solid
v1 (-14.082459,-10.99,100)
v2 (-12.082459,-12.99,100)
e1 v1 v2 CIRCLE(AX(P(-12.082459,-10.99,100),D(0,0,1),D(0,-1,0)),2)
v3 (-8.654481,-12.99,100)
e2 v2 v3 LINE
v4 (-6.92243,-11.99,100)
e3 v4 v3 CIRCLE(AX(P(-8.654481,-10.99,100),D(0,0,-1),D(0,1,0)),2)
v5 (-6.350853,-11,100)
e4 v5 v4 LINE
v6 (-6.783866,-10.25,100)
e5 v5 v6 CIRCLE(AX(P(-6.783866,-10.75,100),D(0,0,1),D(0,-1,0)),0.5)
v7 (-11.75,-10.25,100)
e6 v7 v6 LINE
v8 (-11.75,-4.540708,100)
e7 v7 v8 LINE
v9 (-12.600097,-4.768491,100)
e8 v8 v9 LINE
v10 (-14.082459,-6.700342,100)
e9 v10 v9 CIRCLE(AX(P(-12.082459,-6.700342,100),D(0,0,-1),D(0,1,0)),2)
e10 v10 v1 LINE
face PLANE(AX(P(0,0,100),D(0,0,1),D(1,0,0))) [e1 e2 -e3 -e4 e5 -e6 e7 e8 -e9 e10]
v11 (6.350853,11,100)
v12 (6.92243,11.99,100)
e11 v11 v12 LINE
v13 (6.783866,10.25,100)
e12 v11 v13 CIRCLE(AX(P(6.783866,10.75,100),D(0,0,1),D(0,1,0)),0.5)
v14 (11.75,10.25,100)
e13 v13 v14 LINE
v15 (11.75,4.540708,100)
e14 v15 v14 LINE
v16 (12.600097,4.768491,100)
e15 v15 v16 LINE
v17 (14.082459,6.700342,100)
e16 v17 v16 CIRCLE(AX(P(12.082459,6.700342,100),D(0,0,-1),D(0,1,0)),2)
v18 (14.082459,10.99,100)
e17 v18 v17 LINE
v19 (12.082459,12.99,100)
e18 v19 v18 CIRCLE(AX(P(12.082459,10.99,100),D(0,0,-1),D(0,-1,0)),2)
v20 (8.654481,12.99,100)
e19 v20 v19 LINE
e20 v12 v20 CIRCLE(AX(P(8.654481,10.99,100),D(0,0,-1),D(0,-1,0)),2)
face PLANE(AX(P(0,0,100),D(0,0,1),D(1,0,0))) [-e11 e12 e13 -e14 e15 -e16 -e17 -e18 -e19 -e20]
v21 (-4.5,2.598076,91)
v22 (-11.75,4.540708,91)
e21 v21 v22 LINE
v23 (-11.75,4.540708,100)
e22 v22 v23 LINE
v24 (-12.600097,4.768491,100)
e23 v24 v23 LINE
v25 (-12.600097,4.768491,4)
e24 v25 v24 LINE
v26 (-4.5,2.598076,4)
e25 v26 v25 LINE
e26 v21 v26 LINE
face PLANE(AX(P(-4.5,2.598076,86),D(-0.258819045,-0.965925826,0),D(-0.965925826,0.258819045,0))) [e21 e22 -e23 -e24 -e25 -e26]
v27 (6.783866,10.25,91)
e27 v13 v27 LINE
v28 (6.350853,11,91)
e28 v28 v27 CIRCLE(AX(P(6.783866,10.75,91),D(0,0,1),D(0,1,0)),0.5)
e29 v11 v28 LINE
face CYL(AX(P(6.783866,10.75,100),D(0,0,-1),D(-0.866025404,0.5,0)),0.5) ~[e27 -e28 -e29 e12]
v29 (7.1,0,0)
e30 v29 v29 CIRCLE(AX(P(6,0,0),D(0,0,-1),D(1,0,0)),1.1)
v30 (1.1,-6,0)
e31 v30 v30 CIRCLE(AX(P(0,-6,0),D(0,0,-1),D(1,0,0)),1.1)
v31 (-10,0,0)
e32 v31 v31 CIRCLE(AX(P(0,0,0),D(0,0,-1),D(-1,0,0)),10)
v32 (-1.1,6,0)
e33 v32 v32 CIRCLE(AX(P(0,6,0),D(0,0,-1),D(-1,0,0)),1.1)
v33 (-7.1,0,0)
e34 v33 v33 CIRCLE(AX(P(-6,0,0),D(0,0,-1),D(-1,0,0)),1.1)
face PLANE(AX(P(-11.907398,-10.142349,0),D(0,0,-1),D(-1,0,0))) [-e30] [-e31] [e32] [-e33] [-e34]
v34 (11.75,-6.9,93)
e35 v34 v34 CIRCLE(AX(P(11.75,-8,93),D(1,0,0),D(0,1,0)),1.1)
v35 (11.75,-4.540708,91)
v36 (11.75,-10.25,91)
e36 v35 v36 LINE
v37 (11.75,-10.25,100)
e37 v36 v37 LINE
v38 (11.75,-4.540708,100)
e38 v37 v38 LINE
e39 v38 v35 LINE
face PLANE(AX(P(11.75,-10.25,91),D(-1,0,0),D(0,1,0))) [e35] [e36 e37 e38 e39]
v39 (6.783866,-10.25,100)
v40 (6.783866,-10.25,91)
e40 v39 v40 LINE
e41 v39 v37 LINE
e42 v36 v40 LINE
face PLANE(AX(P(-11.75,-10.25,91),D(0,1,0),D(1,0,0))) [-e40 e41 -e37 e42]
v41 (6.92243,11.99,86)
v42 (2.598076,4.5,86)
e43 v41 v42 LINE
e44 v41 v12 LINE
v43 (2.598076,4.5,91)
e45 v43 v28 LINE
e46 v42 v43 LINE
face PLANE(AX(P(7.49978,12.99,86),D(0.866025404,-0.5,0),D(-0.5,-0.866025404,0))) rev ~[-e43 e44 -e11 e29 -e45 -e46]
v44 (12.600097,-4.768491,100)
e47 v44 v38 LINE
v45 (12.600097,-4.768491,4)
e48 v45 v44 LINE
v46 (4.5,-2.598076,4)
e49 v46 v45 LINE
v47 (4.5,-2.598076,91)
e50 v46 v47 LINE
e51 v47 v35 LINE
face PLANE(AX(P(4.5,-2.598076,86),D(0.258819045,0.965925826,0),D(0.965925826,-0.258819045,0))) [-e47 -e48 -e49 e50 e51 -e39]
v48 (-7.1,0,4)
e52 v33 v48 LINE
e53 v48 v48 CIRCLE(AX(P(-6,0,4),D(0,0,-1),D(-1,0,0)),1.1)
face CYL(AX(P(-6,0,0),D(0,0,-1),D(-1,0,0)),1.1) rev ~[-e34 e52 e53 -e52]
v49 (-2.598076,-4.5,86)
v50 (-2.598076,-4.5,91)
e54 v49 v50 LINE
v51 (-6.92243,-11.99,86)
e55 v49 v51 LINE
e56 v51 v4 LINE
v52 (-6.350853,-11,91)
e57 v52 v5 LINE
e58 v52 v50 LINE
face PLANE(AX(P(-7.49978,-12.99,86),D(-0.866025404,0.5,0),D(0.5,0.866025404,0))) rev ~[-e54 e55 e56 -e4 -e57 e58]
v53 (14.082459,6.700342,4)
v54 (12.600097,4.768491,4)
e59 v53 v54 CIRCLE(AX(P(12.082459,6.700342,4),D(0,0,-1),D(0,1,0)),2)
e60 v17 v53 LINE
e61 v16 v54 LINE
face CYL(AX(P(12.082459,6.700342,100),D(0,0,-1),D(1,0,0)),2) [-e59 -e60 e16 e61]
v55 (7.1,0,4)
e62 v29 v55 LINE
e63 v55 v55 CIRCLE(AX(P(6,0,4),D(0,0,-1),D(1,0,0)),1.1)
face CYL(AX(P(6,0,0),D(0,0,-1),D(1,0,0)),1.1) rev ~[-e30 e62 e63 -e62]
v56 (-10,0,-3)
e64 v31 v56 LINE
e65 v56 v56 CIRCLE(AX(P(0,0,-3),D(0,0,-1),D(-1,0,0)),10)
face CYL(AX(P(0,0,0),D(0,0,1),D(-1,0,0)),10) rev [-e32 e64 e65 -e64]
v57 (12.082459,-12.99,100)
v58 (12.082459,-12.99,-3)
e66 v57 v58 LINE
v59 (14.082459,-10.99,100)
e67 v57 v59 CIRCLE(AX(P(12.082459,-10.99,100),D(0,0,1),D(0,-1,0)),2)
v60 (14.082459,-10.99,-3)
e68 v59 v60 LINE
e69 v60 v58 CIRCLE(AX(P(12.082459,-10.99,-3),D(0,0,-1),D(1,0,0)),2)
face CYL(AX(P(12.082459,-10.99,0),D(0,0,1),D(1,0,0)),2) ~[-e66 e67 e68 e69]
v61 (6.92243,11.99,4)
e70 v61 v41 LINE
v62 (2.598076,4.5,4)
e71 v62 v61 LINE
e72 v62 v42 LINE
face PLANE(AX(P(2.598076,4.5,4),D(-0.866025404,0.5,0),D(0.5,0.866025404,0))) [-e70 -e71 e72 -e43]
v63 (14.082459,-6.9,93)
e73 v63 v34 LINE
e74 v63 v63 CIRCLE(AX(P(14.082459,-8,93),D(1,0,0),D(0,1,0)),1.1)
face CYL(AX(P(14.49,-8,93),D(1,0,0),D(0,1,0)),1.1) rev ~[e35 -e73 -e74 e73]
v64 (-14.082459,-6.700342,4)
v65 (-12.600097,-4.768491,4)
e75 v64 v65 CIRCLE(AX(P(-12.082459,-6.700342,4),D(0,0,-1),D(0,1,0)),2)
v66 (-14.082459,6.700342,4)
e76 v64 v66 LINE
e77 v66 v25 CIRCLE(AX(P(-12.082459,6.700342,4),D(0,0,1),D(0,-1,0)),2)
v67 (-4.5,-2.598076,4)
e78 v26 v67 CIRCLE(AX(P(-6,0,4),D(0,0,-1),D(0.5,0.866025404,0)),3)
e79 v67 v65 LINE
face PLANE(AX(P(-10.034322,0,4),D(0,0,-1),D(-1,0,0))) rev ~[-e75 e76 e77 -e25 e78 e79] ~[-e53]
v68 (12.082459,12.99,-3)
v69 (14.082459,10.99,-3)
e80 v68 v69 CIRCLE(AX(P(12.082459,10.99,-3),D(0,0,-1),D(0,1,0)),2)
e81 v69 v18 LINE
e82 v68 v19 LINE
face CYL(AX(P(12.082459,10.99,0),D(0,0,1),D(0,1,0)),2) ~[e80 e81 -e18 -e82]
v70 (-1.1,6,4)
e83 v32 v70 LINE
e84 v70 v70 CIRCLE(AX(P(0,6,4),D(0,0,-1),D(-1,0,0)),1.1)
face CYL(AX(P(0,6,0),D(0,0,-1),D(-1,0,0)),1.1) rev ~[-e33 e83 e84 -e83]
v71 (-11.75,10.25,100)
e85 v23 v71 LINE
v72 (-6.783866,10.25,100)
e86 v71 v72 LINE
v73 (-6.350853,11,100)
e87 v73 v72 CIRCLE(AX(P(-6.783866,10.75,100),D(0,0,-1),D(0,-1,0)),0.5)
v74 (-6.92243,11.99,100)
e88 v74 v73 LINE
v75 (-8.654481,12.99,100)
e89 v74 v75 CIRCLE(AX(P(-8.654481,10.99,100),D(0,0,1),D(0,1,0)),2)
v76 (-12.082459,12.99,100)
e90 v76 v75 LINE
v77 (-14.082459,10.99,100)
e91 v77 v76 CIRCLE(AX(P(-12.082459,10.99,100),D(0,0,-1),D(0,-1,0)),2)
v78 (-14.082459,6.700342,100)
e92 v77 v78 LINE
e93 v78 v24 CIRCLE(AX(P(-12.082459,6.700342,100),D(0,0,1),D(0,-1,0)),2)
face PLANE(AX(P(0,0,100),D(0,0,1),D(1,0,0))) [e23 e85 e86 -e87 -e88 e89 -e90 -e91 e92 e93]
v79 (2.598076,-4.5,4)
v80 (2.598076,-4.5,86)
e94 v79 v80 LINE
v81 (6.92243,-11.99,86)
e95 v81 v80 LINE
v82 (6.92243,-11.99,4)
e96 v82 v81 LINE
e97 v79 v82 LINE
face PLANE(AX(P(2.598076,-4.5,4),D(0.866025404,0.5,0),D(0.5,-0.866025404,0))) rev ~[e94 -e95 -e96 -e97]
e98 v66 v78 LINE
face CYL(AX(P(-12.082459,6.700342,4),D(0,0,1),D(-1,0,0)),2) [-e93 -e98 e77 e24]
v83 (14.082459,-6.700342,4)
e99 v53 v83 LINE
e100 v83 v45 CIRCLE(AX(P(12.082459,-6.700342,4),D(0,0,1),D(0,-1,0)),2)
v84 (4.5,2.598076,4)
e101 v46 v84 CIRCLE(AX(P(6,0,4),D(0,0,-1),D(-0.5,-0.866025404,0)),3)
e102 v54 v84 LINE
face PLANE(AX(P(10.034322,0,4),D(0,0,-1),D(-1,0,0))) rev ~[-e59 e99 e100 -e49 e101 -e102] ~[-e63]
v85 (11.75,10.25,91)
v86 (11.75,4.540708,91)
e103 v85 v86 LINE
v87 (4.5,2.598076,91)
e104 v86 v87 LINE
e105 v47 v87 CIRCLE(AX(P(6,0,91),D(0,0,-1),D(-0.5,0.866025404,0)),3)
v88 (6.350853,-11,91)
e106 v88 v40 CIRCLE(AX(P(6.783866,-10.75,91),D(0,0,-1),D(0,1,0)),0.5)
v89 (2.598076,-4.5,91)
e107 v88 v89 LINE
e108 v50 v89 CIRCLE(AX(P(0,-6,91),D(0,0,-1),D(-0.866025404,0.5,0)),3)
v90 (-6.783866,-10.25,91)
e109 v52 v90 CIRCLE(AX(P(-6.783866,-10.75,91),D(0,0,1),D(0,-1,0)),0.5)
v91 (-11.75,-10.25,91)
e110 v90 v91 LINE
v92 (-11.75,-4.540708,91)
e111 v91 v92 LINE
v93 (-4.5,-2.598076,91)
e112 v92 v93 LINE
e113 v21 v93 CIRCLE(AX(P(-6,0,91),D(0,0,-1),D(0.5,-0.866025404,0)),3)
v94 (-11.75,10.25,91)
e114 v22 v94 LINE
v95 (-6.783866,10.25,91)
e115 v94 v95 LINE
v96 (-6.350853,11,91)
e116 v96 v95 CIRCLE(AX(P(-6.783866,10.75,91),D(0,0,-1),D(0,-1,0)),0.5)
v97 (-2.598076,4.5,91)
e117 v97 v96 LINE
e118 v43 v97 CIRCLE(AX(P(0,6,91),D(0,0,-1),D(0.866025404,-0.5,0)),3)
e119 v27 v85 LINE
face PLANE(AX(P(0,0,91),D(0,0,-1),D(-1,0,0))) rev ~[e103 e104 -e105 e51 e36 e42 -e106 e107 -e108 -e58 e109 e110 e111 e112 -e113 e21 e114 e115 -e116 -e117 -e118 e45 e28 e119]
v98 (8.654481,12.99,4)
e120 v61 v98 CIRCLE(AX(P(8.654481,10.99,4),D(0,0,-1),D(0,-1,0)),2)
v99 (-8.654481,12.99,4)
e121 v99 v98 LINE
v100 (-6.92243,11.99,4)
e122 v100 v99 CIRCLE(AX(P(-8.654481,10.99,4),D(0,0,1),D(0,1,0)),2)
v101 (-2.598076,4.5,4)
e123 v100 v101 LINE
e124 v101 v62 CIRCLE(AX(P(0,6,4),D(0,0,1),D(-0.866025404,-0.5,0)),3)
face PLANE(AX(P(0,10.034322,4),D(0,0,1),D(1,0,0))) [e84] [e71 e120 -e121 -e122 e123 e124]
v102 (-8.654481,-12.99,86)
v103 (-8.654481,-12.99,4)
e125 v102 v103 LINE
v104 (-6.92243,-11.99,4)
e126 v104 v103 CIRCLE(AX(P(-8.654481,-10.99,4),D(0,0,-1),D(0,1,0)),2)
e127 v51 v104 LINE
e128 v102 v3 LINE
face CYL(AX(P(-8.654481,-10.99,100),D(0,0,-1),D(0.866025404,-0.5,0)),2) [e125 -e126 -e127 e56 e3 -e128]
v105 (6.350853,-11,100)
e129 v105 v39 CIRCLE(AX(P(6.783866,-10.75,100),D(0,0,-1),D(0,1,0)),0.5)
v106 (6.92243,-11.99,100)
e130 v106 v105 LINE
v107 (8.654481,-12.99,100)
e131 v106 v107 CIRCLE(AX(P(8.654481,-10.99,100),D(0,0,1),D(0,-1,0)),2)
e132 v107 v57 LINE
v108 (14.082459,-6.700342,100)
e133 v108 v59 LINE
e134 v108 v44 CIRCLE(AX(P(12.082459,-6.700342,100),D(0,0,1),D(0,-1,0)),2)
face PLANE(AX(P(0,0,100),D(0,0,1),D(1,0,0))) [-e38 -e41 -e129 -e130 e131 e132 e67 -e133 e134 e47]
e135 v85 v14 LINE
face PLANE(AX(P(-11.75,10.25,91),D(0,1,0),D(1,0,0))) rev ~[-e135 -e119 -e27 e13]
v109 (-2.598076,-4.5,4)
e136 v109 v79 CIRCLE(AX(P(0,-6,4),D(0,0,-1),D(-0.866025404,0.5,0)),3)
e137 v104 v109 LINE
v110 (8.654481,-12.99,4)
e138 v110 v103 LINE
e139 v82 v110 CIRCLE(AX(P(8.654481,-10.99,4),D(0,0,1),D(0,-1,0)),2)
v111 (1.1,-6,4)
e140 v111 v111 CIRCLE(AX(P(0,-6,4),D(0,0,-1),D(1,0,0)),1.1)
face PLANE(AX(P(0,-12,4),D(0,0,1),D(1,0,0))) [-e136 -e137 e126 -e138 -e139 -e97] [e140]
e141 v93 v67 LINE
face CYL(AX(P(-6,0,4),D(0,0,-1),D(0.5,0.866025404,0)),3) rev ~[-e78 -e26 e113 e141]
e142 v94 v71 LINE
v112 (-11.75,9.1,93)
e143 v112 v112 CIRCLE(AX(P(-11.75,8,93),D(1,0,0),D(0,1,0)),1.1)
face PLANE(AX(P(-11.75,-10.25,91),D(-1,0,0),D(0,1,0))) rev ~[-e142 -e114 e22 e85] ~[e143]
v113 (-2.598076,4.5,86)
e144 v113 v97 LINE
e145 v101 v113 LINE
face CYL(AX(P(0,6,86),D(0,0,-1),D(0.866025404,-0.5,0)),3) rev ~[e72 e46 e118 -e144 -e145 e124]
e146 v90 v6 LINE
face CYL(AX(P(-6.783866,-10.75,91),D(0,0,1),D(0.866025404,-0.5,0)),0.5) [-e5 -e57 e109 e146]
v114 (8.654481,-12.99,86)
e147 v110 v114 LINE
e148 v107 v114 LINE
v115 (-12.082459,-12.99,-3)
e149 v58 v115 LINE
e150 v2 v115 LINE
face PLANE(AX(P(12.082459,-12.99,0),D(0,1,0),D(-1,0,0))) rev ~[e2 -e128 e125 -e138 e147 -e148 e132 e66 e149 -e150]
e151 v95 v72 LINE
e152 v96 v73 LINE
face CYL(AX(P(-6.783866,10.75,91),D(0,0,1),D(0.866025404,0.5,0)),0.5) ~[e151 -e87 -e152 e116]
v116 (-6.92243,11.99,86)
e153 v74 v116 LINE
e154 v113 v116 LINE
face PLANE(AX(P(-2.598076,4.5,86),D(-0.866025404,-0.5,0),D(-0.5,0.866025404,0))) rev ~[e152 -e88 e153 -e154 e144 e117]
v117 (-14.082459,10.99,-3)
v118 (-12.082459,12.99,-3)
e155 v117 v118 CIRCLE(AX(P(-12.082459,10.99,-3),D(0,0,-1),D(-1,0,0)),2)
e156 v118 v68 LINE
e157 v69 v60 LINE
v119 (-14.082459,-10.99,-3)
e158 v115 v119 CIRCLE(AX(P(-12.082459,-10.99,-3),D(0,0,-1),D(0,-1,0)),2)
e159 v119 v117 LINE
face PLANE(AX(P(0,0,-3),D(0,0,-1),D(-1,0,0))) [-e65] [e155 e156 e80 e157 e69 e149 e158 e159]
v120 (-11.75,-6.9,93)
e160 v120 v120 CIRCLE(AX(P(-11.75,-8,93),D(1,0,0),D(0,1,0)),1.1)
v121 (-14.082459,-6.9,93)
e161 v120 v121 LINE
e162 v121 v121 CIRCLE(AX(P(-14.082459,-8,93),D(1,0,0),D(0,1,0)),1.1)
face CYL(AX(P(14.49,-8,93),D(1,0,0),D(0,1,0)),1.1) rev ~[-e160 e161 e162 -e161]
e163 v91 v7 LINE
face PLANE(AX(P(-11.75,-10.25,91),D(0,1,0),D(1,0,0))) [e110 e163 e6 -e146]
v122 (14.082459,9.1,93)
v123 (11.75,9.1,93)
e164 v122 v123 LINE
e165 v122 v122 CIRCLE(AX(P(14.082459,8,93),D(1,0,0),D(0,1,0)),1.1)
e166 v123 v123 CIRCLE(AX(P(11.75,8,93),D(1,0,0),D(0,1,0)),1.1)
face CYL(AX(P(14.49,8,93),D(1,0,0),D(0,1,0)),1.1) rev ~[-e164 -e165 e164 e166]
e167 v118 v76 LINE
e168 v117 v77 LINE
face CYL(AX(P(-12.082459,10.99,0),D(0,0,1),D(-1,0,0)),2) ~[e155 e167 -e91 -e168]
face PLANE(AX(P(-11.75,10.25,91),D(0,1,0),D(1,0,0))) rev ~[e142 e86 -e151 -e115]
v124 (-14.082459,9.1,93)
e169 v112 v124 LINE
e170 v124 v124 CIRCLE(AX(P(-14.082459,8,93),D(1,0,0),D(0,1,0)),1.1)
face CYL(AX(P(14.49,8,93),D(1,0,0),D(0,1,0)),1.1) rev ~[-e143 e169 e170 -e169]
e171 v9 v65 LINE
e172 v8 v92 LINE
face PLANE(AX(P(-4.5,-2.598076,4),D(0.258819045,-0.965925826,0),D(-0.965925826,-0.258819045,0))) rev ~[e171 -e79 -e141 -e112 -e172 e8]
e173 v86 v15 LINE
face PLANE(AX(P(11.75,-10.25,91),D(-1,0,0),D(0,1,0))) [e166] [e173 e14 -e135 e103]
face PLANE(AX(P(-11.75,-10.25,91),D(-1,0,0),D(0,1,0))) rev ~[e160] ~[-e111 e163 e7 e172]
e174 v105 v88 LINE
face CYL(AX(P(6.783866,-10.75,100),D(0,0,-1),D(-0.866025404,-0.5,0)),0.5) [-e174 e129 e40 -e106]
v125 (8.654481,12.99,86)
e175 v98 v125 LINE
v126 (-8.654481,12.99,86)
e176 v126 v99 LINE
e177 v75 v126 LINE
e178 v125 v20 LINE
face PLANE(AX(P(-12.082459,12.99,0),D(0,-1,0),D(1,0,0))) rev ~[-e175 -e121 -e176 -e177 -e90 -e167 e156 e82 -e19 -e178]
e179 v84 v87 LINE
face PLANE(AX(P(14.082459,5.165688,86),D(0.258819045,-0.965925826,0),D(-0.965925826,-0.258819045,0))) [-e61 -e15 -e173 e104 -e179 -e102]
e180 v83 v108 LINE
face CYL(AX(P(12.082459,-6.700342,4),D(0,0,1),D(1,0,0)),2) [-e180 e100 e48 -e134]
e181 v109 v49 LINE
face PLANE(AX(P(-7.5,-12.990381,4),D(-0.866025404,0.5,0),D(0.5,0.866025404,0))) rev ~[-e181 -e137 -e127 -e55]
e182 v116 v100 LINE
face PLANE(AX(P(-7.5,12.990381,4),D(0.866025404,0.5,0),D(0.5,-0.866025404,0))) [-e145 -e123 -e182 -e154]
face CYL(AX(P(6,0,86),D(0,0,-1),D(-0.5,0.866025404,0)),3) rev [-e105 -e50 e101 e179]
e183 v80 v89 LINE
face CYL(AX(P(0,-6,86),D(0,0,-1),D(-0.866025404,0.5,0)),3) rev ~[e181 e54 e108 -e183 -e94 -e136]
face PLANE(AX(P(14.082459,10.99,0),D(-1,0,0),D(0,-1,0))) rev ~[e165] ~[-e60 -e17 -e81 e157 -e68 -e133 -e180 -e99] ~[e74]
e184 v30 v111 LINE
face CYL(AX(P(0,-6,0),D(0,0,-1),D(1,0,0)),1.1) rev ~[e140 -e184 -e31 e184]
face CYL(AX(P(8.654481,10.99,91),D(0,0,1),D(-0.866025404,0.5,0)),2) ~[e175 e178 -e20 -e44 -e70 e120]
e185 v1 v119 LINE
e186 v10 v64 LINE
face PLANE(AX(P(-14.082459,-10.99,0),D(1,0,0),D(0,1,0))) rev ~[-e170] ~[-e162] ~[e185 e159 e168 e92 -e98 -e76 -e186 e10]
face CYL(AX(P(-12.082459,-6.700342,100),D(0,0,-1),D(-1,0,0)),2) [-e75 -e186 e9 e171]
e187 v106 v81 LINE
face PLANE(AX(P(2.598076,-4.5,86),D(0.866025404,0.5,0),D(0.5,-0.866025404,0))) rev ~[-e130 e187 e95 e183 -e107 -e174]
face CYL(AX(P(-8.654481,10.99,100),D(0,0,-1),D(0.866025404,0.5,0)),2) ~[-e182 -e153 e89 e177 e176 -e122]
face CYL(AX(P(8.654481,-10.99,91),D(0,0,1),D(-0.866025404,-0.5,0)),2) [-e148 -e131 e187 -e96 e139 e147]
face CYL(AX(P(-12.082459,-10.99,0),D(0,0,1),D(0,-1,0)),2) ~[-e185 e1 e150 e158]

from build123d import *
from build123d.topology import SkipClean

# Parameters (mm, degrees)
SKETCH_1_R               = 15
EXTRUDE_1_DEPTH          = 91
SKETCH_2_R               = 1.1
CUT_EXTRUDE_1_DEPTH      = 10
SKETCH_3_W               = 28.98
SKETCH_3_H               = 25.98
SKETCH_3_W_2             = 23.5
SKETCH_3_H_2             = 20.5
EXTRUDE_2_DEPTH          = 9
CUT_EXTRUDE_2_DEPTH      = 87
SKETCH_6_W               = 28.98
SKETCH_6_H               = 25.98
EXTRUDE_6_DEPTH          = 5
SKETCH_7_R               = 1.1
CUT_EXTRUDE_3_DEPTH      = 106.331192436
SKETCH_10_R              = 0.8
CUT_EXTRUDE_4_DEPTH      = 99.315817649
CUT_EXTRUDE_5_DEPTH      = 89.577649551
FILLET_1_R               = 0.5
EXTRUDE_7_DEPTH          = 82
SKETCH_17_W              = 0.407540604
SKETCH_17_H              = 25.98
CUT_EXTRUDE_7_DEPTH      = 89.577649551
FILLET_3_R               = 2
CUT_EXTRUDE_6_DEPTH      = 89.577649551
PATTERN_CIRCULAR_4_COUNT = 4
BOSS_EXTRUDE1_START      = 86
BOSS_EXTRUDE1_DEPTH      = 86
SKETCH3_OUTSIDE_W        = 53.726
SKETCH3_OUTSIDE_H        = 53.726
CUT_EXTRUDE1_DEPTH       = 103.225241501
SKETCH4_R                = 10
SKETCH4_R_2              = 0.8
BOSS_EXTRUDE2_DEPTH      = 3
FILLET1_R                = 2
SKETCH5_R                = 0.8
BOSS_EXTRUDE3_DEPTH      = 7


with BuildPart() as part:
    # 草图1 → 凸台-拉伸1 (new body)
    with BuildSketch(Plane.XY):
        Circle(SKETCH_1_R)
    extrude(amount=EXTRUDE_1_DEPTH)

    # 草图2 → 切除-拉伸1 (cut)
    with BuildSketch(Plane(origin=(0, 0, 0), x_dir=(-1, 0, 0), z_dir=(0, 0, -1))):
        with Locations((0, 6)):
            Circle(SKETCH_2_R)
        with Locations(Location((0, -6, 0), (0, 0, 180))):
            Circle(SKETCH_2_R)
        with Locations((6, 0)):
            Circle(SKETCH_2_R)
        with Locations(Location((-6, 0, 0), (0, 0, 180))):
            Circle(SKETCH_2_R)
    extrude(amount=-CUT_EXTRUDE_1_DEPTH, mode=Mode.SUBTRACT)

    # 草图3 → 凸台-拉伸2 (add)
    with BuildSketch(Plane.XY.offset(91)):
        Rectangle(SKETCH_3_W, SKETCH_3_H)
        Rectangle(SKETCH_3_W_2, SKETCH_3_H_2, mode=Mode.SUBTRACT)
    extrude(amount=EXTRUDE_2_DEPTH)

    # 草图4 → 切除-拉伸2 (cut)
    with BuildSketch(Plane(origin=(0, 0, 4), x_dir=(-1, 0, 0), z_dir=(0, 0, -1))):
        with BuildLine():
            Line((-2.598076211, 4.5), (-7.5, 12.990381057))
            ThreePointArc((-7.5, 12.990381057), (0, 15), (7.5, 12.990381057))
            Line((7.5, 12.990381057), (2.598076211, 4.5))
            ThreePointArc((2.598076211, 4.5), (0, 3), (-2.598076211, 4.5))
        make_face()
        with BuildLine():
            Line((4.5, -2.598076211), (12.990381057, -7.5))
            ThreePointArc((12.990381057, -7.5), (15, 0), (12.990381057, 7.5))
            Line((12.990381057, 7.5), (4.5, 2.598076211))
            ThreePointArc((4.5, 2.598076211), (3, 0), (4.5, -2.598076211))
        make_face()
        with BuildLine():
            Line((-2.598076211, -4.5), (-7.5, -12.990381057))
            ThreePointArc((-7.5, -12.990381057), (0, -15), (7.5, -12.990381057))
            Line((7.5, -12.990381057), (2.598076211, -4.5))
            ThreePointArc((2.598076211, -4.5), (0, -3), (-2.598076211, -4.5))
        make_face()
        with BuildLine():
            Line((-4.5, 2.598076211), (-12.990381057, 7.5))
            ThreePointArc((-12.990381057, 7.5), (-15, 0), (-12.990381057, -7.5))
            Line((-12.990381057, -7.5), (-4.5, -2.598076211))
            ThreePointArc((-4.5, -2.598076211), (-3, 0), (-4.5, 2.598076211))
        make_face()
    extrude(amount=-CUT_EXTRUDE_2_DEPTH, mode=Mode.SUBTRACT)

    # 草图6 → 凸台-拉伸6 (add)
    with BuildSketch(Plane(origin=(0, 0, 91), x_dir=(-1, 0, 0), z_dir=(0, 0, -1))):
        Rectangle(SKETCH_6_W, SKETCH_6_H)
    extrude(amount=EXTRUDE_6_DEPTH)

    # 草图7 → 切除-拉伸3 (cut, through all)
    with BuildSketch(Plane(origin=(14.49, 0, 0), x_dir=(0, 0, -1), z_dir=(1, 0, 0))):
        with Locations(Location((-93, -8, 0), (0, 0, 90))):
            Circle(SKETCH_7_R)
        with Locations(Location((-93, 8, 0), (0, 0, 90))):
            Circle(SKETCH_7_R)
    extrude(amount=-CUT_EXTRUDE_3_DEPTH, mode=Mode.SUBTRACT)

    # 草图10 → 切除-拉伸4 (cut, through all)
    with BuildSketch(Plane.XY.offset(4)):
        with Locations((0, -12)):
            Circle(SKETCH_10_R)
    cut_extrude_4 = extrude(amount=-CUT_EXTRUDE_4_DEPTH, mode=Mode.SUBTRACT)

    # 草图11 → 切除-拉伸5 (cut, through all)
    with BuildSketch(Plane(origin=(0, 0, 86), x_dir=(-1, 0, 0), z_dir=(0, 0, -1))):
        with BuildLine():
            Line((2.598076211, 4.5), (7.499779997, 12.99))
            Line((7.499779997, 12.99), (-7.499779997, 12.99))
            Line((-7.499779997, 12.99), (-2.598076211, 4.5))
            ThreePointArc((-2.598076211, 4.5), (0, 3), (2.598076211, 4.5))
        make_face()
        with BuildLine():
            Line((-2.598076211, -4.5), (-7.499779997, -12.99))
            Line((-7.499779997, -12.99), (7.499779997, -12.99))
            Line((7.499779997, -12.99), (2.598076211, -4.5))
            ThreePointArc((2.598076211, -4.5), (0, -3), (-2.598076211, -4.5))
        make_face()
    extrude(amount=-CUT_EXTRUDE_5_DEPTH, mode=Mode.SUBTRACT)

    # 圆角1
    fillet_1_edges = [part.edges().sort_by_distance(p)[0] for p in [
        (5.917840259, 10.25, 95.5),
        (-5.917840259, 10.25, 95.5),
        (-5.917840259, -10.25, 95.5),
        (5.917840259, -10.25, 95.5),
    ]]
    fillet(fillet_1_edges, radius=FILLET_1_R)

    # 草图12 → 凸台-拉伸7 (add)
    with SkipClean():  # the faces are left unmerged after this step: merging them gives an invalid solid
        with BuildSketch(Plane.XY.offset(4)):
            with BuildLine():
                Line((-4.5, 2.598076211), (-14.082459396, 5.165688468))
                ThreePointArc((-14.082459396, 5.165688468), (-13.586645102, 6.356341311), (-12.990381057, 7.5))
                Line((-12.990381057, 7.5), (-4.5, 2.598076211))
            make_face()
            with BuildLine():
                Line((-12.990381057, -7.5), (-4.5, -2.598076211))
                Line((-4.5, -2.598076211), (-14.082459396, -5.165688468))
                ThreePointArc((-14.082459396, -5.165688468), (-13.586645102, -6.356341311), (-12.990381057, -7.5))
            make_face()
            with BuildLine():
                Line((4.5, -2.598076211), (14.082459396, -5.165688468))
                ThreePointArc((14.082459396, -5.165688468), (13.586645102, -6.356341311), (12.990381057, -7.5))
                Line((12.990381057, -7.5), (4.5, -2.598076211))
            make_face()
            with BuildLine():
                Line((4.5, 2.598076211), (12.990381057, 7.5))
                ThreePointArc((12.990381057, 7.5), (13.586645102, 6.356341311), (14.082459396, 5.165688468))
                Line((14.082459396, 5.165688468), (4.5, 2.598076211))
            make_face()
        extrude(amount=EXTRUDE_7_DEPTH)

    # 草图17 → 切除-拉伸7 (cut, through all)
    with SkipClean():  # the faces are left unmerged after this step: merging them gives an invalid solid
        with BuildSketch(Plane(origin=(0, 0, 86), x_dir=(-1, 0, 0), z_dir=(0, 0, -1))):
            with Locations((14.286229698, 0)):
                Rectangle(SKETCH_17_W, SKETCH_17_H)
            with Locations((-14.286229698, 0)):
                Rectangle(SKETCH_17_W, SKETCH_17_H)
        extrude(amount=-CUT_EXTRUDE_7_DEPTH, mode=Mode.SUBTRACT)

    # 圆角3
    fillet_3_edges = [part.edges().sort_by_distance(p)[0] for p in [
        (-14.082459396, -12.99, 93),
        (-14.082459396, 12.99, 93),
        (14.082459396, 12.99, 93),
        (14.082459396, -12.99, 93),
    ]]
    fillet(fillet_3_edges, radius=FILLET_3_R)

    # 草图13 → 切除-拉伸6 (cut, through all)
    with SkipClean():  # the faces are left unmerged after this step: merging them gives an invalid solid
        with BuildSketch(Plane(origin=(0, 0, 86), x_dir=(-1, 0, 0), z_dir=(0, 0, -1))):
            with BuildLine():
                Line((-4.5, -2.598076211), (-14.082459396, -5.165688468))
                Line((-14.082459396, -5.165688468), (-14.082459396, 5.165688468))
                Line((-14.082459396, 5.165688468), (-4.5, 2.598076211))
                ThreePointArc((-4.5, 2.598076211), (-3, 0), (-4.5, -2.598076211))
            make_face()
            with BuildLine():
                Line((14.082459396, 5.165688468), (14.082459396, -5.165688468))
                Line((14.082459396, -5.165688468), (4.5, -2.598076211))
                ThreePointArc((4.5, -2.598076211), (3, 0), (4.5, 2.598076211))
                Line((4.5, 2.598076211), (14.082459396, 5.165688468))
            make_face()
        extrude(amount=-CUT_EXTRUDE_6_DEPTH, mode=Mode.SUBTRACT)

    # 阵列(圆周)4: 切除-拉伸4 ×4 about axis
    with SkipClean():  # the faces are left unmerged after this step: merging them gives an invalid solid
        pattern_circular_4_axis = Axis((0, 0, 0), (0, 0, 1))
        for i in range(1, PATTERN_CIRCULAR_4_COUNT):
            add(cut_extrude_4.rotate(pattern_circular_4_axis, i * 360 / PATTERN_CIRCULAR_4_COUNT), mode=Mode.SUBTRACT)

    # Sketch1 → Boss-Extrude1 (add)
    with BuildSketch(Plane(origin=(0, 0, 86), x_dir=(-1, 0, 0), z_dir=(0, 0, -1)).offset(BOSS_EXTRUDE1_START)):
        with BuildLine():
            Line((7.500659971, -12.99), (12.082459396, -12.99))
            ThreePointArc((12.082459396, -12.99), (13.496672959, -12.404213562), (14.082459396, -10.99))
            Line((14.082459396, -10.99), (14.082459396, -5.165688468))
            ThreePointArc((14.082459396, -5.165688468), (11.478794499, -9.655945156), (7.500659971, -12.99))
        make_face()
        with BuildLine():
            Line((-14.082459396, -5.165688468), (-14.082459396, -10.99))
            ThreePointArc((-14.082459396, -10.99), (-13.496672959, -12.404213562), (-12.082459396, -12.99))
            Line((-12.082459396, -12.99), (-7.500659971, -12.99))
            ThreePointArc((-7.500659971, -12.99), (-11.478794499, -9.655945156), (-14.082459396, -5.165688468))
        make_face()
        with BuildLine():
            Line((-7.500659971, 12.99), (-12.082459396, 12.99))
            ThreePointArc((-12.082459396, 12.99), (-13.496672959, 12.404213562), (-14.082459396, 10.99))
            Line((-14.082459396, 10.99), (-14.082459396, 5.165688468))
            ThreePointArc((-14.082459396, 5.165688468), (-11.478794499, 9.655945156), (-7.500659971, 12.99))
        make_face()
        with BuildLine():
            Line((14.082459396, 5.165688468), (14.082459396, 10.99))
            ThreePointArc((14.082459396, 10.99), (13.496672959, 12.404213562), (12.082459396, 12.99))
            Line((12.082459396, 12.99), (7.500659971, 12.99))
            ThreePointArc((7.500659971, 12.99), (11.478794499, 9.655945156), (14.082459396, 5.165688468))
        make_face()
    extrude(amount=-BOSS_EXTRUDE1_DEPTH)

    # Sketch3 outside → Cut-Extrude1 (cut, through all)
    with BuildSketch(Plane(origin=(0, 0, 0), x_dir=(-1, 0, 0), z_dir=(0, 0, -1))):
        Rectangle(SKETCH3_OUTSIDE_W, SKETCH3_OUTSIDE_H)
        with BuildLine():
            Line((-7.500659971, 12.99), (7.500659971, 12.99))
            Line((7.500659971, 12.99), (12.082459396, 12.99))
            ThreePointArc((12.082459396, 12.99), (13.496672959, 12.404213562), (14.082459396, 10.99))
            Line((14.082459396, 10.99), (14.082459396, 5.165688468))
            Line((14.082459396, 5.165688468), (14.082459396, -5.165688468))
            Line((14.082459396, -5.165688468), (14.082459396, -10.99))
            ThreePointArc((14.082459396, -10.99), (13.496672959, -12.404213562), (12.082459396, -12.99))
            Line((12.082459396, -12.99), (7.500659971, -12.99))
            Line((7.500659971, -12.99), (-7.500659971, -12.99))
            Line((-7.500659971, -12.99), (-12.082459396, -12.99))
            ThreePointArc((-12.082459396, -12.99), (-13.496672959, -12.404213562), (-14.082459396, -10.99))
            Line((-14.082459396, -10.99), (-14.082459396, -5.165688468))
            Line((-14.082459396, -5.165688468), (-14.082459396, 5.165688468))
            Line((-14.082459396, 5.165688468), (-14.082459396, 10.99))
            ThreePointArc((-14.082459396, 10.99), (-13.496672959, 12.404213562), (-12.082459396, 12.99))
            Line((-12.082459396, 12.99), (-7.500659971, 12.99))
        make_face(mode=Mode.SUBTRACT)
    extrude(amount=-CUT_EXTRUDE1_DEPTH, mode=Mode.SUBTRACT)

    # Sketch4 → Boss-Extrude2 (add)
    with BuildSketch(Plane(origin=(0, 0, 0), x_dir=(-1, 0, 0), z_dir=(0, 0, -1))):
        with BuildLine():
            Line((-14.082459396, 10.99), (-14.082459396, -10.99))
            ThreePointArc((-14.082459396, -10.99), (-13.496672959, -12.404213562), (-12.082459396, -12.99))
            Line((-12.082459396, -12.99), (12.082459396, -12.99))
            ThreePointArc((12.082459396, -12.99), (13.496672959, -12.404213562), (14.082459396, -10.99))
            Line((14.082459396, -10.99), (14.082459396, 10.99))
            ThreePointArc((14.082459396, 10.99), (13.496672959, 12.404213562), (12.082459396, 12.99))
            Line((12.082459396, 12.99), (-12.082459396, 12.99))
            ThreePointArc((-12.082459396, 12.99), (-13.496672959, 12.404213562), (-14.082459396, 10.99))
        make_face()
        Circle(SKETCH4_R, mode=Mode.SUBTRACT)
        with Locations(Location((0, -12, 0), (0, 0, 180))):
            Circle(SKETCH4_R_2, mode=Mode.SUBTRACT)
        with Locations(Location((12, 0, 0), (0, 0, 270))):
            Circle(SKETCH4_R_2, mode=Mode.SUBTRACT)
        with Locations(Location((-12, 0, 0), (0, 0, 90))):
            Circle(SKETCH4_R_2, mode=Mode.SUBTRACT)
        with Locations((0, 12)):
            Circle(SKETCH4_R_2, mode=Mode.SUBTRACT)
    extrude(amount=BOSS_EXTRUDE2_DEPTH)

    # Fillet1
    fillet1_edges = [part.edges().sort_by_distance(p)[0] for p in [
        (7.499779997, 12.99, 52),
        (-7.499779997, 12.99, 52),
        (-7.499779997, -12.99, 52),
        (7.499779997, -12.99, 52),
        (-14.082459396, -5.165688468, 52),
        (-14.082459396, 5.165688468, 52),
        (14.082459396, 5.165688468, 52),
        (14.082459396, -5.165688468, 52),
    ]]
    fillet(fillet1_edges, radius=FILLET1_R)

    # Sketch5 → Boss-Extrude3 (add)
    with BuildSketch(Plane.XY.offset(4)):
        with Locations((0, -12)):
            Circle(SKETCH5_R)
        with Locations((12, 0)):
            Circle(SKETCH5_R)
        with Locations((0, 12)):
            Circle(SKETCH5_R)
        with Locations((-12, 0)):
            Circle(SKETCH5_R)
    extrude(amount=-BOSS_EXTRUDE3_DEPTH)


solid = part.part
